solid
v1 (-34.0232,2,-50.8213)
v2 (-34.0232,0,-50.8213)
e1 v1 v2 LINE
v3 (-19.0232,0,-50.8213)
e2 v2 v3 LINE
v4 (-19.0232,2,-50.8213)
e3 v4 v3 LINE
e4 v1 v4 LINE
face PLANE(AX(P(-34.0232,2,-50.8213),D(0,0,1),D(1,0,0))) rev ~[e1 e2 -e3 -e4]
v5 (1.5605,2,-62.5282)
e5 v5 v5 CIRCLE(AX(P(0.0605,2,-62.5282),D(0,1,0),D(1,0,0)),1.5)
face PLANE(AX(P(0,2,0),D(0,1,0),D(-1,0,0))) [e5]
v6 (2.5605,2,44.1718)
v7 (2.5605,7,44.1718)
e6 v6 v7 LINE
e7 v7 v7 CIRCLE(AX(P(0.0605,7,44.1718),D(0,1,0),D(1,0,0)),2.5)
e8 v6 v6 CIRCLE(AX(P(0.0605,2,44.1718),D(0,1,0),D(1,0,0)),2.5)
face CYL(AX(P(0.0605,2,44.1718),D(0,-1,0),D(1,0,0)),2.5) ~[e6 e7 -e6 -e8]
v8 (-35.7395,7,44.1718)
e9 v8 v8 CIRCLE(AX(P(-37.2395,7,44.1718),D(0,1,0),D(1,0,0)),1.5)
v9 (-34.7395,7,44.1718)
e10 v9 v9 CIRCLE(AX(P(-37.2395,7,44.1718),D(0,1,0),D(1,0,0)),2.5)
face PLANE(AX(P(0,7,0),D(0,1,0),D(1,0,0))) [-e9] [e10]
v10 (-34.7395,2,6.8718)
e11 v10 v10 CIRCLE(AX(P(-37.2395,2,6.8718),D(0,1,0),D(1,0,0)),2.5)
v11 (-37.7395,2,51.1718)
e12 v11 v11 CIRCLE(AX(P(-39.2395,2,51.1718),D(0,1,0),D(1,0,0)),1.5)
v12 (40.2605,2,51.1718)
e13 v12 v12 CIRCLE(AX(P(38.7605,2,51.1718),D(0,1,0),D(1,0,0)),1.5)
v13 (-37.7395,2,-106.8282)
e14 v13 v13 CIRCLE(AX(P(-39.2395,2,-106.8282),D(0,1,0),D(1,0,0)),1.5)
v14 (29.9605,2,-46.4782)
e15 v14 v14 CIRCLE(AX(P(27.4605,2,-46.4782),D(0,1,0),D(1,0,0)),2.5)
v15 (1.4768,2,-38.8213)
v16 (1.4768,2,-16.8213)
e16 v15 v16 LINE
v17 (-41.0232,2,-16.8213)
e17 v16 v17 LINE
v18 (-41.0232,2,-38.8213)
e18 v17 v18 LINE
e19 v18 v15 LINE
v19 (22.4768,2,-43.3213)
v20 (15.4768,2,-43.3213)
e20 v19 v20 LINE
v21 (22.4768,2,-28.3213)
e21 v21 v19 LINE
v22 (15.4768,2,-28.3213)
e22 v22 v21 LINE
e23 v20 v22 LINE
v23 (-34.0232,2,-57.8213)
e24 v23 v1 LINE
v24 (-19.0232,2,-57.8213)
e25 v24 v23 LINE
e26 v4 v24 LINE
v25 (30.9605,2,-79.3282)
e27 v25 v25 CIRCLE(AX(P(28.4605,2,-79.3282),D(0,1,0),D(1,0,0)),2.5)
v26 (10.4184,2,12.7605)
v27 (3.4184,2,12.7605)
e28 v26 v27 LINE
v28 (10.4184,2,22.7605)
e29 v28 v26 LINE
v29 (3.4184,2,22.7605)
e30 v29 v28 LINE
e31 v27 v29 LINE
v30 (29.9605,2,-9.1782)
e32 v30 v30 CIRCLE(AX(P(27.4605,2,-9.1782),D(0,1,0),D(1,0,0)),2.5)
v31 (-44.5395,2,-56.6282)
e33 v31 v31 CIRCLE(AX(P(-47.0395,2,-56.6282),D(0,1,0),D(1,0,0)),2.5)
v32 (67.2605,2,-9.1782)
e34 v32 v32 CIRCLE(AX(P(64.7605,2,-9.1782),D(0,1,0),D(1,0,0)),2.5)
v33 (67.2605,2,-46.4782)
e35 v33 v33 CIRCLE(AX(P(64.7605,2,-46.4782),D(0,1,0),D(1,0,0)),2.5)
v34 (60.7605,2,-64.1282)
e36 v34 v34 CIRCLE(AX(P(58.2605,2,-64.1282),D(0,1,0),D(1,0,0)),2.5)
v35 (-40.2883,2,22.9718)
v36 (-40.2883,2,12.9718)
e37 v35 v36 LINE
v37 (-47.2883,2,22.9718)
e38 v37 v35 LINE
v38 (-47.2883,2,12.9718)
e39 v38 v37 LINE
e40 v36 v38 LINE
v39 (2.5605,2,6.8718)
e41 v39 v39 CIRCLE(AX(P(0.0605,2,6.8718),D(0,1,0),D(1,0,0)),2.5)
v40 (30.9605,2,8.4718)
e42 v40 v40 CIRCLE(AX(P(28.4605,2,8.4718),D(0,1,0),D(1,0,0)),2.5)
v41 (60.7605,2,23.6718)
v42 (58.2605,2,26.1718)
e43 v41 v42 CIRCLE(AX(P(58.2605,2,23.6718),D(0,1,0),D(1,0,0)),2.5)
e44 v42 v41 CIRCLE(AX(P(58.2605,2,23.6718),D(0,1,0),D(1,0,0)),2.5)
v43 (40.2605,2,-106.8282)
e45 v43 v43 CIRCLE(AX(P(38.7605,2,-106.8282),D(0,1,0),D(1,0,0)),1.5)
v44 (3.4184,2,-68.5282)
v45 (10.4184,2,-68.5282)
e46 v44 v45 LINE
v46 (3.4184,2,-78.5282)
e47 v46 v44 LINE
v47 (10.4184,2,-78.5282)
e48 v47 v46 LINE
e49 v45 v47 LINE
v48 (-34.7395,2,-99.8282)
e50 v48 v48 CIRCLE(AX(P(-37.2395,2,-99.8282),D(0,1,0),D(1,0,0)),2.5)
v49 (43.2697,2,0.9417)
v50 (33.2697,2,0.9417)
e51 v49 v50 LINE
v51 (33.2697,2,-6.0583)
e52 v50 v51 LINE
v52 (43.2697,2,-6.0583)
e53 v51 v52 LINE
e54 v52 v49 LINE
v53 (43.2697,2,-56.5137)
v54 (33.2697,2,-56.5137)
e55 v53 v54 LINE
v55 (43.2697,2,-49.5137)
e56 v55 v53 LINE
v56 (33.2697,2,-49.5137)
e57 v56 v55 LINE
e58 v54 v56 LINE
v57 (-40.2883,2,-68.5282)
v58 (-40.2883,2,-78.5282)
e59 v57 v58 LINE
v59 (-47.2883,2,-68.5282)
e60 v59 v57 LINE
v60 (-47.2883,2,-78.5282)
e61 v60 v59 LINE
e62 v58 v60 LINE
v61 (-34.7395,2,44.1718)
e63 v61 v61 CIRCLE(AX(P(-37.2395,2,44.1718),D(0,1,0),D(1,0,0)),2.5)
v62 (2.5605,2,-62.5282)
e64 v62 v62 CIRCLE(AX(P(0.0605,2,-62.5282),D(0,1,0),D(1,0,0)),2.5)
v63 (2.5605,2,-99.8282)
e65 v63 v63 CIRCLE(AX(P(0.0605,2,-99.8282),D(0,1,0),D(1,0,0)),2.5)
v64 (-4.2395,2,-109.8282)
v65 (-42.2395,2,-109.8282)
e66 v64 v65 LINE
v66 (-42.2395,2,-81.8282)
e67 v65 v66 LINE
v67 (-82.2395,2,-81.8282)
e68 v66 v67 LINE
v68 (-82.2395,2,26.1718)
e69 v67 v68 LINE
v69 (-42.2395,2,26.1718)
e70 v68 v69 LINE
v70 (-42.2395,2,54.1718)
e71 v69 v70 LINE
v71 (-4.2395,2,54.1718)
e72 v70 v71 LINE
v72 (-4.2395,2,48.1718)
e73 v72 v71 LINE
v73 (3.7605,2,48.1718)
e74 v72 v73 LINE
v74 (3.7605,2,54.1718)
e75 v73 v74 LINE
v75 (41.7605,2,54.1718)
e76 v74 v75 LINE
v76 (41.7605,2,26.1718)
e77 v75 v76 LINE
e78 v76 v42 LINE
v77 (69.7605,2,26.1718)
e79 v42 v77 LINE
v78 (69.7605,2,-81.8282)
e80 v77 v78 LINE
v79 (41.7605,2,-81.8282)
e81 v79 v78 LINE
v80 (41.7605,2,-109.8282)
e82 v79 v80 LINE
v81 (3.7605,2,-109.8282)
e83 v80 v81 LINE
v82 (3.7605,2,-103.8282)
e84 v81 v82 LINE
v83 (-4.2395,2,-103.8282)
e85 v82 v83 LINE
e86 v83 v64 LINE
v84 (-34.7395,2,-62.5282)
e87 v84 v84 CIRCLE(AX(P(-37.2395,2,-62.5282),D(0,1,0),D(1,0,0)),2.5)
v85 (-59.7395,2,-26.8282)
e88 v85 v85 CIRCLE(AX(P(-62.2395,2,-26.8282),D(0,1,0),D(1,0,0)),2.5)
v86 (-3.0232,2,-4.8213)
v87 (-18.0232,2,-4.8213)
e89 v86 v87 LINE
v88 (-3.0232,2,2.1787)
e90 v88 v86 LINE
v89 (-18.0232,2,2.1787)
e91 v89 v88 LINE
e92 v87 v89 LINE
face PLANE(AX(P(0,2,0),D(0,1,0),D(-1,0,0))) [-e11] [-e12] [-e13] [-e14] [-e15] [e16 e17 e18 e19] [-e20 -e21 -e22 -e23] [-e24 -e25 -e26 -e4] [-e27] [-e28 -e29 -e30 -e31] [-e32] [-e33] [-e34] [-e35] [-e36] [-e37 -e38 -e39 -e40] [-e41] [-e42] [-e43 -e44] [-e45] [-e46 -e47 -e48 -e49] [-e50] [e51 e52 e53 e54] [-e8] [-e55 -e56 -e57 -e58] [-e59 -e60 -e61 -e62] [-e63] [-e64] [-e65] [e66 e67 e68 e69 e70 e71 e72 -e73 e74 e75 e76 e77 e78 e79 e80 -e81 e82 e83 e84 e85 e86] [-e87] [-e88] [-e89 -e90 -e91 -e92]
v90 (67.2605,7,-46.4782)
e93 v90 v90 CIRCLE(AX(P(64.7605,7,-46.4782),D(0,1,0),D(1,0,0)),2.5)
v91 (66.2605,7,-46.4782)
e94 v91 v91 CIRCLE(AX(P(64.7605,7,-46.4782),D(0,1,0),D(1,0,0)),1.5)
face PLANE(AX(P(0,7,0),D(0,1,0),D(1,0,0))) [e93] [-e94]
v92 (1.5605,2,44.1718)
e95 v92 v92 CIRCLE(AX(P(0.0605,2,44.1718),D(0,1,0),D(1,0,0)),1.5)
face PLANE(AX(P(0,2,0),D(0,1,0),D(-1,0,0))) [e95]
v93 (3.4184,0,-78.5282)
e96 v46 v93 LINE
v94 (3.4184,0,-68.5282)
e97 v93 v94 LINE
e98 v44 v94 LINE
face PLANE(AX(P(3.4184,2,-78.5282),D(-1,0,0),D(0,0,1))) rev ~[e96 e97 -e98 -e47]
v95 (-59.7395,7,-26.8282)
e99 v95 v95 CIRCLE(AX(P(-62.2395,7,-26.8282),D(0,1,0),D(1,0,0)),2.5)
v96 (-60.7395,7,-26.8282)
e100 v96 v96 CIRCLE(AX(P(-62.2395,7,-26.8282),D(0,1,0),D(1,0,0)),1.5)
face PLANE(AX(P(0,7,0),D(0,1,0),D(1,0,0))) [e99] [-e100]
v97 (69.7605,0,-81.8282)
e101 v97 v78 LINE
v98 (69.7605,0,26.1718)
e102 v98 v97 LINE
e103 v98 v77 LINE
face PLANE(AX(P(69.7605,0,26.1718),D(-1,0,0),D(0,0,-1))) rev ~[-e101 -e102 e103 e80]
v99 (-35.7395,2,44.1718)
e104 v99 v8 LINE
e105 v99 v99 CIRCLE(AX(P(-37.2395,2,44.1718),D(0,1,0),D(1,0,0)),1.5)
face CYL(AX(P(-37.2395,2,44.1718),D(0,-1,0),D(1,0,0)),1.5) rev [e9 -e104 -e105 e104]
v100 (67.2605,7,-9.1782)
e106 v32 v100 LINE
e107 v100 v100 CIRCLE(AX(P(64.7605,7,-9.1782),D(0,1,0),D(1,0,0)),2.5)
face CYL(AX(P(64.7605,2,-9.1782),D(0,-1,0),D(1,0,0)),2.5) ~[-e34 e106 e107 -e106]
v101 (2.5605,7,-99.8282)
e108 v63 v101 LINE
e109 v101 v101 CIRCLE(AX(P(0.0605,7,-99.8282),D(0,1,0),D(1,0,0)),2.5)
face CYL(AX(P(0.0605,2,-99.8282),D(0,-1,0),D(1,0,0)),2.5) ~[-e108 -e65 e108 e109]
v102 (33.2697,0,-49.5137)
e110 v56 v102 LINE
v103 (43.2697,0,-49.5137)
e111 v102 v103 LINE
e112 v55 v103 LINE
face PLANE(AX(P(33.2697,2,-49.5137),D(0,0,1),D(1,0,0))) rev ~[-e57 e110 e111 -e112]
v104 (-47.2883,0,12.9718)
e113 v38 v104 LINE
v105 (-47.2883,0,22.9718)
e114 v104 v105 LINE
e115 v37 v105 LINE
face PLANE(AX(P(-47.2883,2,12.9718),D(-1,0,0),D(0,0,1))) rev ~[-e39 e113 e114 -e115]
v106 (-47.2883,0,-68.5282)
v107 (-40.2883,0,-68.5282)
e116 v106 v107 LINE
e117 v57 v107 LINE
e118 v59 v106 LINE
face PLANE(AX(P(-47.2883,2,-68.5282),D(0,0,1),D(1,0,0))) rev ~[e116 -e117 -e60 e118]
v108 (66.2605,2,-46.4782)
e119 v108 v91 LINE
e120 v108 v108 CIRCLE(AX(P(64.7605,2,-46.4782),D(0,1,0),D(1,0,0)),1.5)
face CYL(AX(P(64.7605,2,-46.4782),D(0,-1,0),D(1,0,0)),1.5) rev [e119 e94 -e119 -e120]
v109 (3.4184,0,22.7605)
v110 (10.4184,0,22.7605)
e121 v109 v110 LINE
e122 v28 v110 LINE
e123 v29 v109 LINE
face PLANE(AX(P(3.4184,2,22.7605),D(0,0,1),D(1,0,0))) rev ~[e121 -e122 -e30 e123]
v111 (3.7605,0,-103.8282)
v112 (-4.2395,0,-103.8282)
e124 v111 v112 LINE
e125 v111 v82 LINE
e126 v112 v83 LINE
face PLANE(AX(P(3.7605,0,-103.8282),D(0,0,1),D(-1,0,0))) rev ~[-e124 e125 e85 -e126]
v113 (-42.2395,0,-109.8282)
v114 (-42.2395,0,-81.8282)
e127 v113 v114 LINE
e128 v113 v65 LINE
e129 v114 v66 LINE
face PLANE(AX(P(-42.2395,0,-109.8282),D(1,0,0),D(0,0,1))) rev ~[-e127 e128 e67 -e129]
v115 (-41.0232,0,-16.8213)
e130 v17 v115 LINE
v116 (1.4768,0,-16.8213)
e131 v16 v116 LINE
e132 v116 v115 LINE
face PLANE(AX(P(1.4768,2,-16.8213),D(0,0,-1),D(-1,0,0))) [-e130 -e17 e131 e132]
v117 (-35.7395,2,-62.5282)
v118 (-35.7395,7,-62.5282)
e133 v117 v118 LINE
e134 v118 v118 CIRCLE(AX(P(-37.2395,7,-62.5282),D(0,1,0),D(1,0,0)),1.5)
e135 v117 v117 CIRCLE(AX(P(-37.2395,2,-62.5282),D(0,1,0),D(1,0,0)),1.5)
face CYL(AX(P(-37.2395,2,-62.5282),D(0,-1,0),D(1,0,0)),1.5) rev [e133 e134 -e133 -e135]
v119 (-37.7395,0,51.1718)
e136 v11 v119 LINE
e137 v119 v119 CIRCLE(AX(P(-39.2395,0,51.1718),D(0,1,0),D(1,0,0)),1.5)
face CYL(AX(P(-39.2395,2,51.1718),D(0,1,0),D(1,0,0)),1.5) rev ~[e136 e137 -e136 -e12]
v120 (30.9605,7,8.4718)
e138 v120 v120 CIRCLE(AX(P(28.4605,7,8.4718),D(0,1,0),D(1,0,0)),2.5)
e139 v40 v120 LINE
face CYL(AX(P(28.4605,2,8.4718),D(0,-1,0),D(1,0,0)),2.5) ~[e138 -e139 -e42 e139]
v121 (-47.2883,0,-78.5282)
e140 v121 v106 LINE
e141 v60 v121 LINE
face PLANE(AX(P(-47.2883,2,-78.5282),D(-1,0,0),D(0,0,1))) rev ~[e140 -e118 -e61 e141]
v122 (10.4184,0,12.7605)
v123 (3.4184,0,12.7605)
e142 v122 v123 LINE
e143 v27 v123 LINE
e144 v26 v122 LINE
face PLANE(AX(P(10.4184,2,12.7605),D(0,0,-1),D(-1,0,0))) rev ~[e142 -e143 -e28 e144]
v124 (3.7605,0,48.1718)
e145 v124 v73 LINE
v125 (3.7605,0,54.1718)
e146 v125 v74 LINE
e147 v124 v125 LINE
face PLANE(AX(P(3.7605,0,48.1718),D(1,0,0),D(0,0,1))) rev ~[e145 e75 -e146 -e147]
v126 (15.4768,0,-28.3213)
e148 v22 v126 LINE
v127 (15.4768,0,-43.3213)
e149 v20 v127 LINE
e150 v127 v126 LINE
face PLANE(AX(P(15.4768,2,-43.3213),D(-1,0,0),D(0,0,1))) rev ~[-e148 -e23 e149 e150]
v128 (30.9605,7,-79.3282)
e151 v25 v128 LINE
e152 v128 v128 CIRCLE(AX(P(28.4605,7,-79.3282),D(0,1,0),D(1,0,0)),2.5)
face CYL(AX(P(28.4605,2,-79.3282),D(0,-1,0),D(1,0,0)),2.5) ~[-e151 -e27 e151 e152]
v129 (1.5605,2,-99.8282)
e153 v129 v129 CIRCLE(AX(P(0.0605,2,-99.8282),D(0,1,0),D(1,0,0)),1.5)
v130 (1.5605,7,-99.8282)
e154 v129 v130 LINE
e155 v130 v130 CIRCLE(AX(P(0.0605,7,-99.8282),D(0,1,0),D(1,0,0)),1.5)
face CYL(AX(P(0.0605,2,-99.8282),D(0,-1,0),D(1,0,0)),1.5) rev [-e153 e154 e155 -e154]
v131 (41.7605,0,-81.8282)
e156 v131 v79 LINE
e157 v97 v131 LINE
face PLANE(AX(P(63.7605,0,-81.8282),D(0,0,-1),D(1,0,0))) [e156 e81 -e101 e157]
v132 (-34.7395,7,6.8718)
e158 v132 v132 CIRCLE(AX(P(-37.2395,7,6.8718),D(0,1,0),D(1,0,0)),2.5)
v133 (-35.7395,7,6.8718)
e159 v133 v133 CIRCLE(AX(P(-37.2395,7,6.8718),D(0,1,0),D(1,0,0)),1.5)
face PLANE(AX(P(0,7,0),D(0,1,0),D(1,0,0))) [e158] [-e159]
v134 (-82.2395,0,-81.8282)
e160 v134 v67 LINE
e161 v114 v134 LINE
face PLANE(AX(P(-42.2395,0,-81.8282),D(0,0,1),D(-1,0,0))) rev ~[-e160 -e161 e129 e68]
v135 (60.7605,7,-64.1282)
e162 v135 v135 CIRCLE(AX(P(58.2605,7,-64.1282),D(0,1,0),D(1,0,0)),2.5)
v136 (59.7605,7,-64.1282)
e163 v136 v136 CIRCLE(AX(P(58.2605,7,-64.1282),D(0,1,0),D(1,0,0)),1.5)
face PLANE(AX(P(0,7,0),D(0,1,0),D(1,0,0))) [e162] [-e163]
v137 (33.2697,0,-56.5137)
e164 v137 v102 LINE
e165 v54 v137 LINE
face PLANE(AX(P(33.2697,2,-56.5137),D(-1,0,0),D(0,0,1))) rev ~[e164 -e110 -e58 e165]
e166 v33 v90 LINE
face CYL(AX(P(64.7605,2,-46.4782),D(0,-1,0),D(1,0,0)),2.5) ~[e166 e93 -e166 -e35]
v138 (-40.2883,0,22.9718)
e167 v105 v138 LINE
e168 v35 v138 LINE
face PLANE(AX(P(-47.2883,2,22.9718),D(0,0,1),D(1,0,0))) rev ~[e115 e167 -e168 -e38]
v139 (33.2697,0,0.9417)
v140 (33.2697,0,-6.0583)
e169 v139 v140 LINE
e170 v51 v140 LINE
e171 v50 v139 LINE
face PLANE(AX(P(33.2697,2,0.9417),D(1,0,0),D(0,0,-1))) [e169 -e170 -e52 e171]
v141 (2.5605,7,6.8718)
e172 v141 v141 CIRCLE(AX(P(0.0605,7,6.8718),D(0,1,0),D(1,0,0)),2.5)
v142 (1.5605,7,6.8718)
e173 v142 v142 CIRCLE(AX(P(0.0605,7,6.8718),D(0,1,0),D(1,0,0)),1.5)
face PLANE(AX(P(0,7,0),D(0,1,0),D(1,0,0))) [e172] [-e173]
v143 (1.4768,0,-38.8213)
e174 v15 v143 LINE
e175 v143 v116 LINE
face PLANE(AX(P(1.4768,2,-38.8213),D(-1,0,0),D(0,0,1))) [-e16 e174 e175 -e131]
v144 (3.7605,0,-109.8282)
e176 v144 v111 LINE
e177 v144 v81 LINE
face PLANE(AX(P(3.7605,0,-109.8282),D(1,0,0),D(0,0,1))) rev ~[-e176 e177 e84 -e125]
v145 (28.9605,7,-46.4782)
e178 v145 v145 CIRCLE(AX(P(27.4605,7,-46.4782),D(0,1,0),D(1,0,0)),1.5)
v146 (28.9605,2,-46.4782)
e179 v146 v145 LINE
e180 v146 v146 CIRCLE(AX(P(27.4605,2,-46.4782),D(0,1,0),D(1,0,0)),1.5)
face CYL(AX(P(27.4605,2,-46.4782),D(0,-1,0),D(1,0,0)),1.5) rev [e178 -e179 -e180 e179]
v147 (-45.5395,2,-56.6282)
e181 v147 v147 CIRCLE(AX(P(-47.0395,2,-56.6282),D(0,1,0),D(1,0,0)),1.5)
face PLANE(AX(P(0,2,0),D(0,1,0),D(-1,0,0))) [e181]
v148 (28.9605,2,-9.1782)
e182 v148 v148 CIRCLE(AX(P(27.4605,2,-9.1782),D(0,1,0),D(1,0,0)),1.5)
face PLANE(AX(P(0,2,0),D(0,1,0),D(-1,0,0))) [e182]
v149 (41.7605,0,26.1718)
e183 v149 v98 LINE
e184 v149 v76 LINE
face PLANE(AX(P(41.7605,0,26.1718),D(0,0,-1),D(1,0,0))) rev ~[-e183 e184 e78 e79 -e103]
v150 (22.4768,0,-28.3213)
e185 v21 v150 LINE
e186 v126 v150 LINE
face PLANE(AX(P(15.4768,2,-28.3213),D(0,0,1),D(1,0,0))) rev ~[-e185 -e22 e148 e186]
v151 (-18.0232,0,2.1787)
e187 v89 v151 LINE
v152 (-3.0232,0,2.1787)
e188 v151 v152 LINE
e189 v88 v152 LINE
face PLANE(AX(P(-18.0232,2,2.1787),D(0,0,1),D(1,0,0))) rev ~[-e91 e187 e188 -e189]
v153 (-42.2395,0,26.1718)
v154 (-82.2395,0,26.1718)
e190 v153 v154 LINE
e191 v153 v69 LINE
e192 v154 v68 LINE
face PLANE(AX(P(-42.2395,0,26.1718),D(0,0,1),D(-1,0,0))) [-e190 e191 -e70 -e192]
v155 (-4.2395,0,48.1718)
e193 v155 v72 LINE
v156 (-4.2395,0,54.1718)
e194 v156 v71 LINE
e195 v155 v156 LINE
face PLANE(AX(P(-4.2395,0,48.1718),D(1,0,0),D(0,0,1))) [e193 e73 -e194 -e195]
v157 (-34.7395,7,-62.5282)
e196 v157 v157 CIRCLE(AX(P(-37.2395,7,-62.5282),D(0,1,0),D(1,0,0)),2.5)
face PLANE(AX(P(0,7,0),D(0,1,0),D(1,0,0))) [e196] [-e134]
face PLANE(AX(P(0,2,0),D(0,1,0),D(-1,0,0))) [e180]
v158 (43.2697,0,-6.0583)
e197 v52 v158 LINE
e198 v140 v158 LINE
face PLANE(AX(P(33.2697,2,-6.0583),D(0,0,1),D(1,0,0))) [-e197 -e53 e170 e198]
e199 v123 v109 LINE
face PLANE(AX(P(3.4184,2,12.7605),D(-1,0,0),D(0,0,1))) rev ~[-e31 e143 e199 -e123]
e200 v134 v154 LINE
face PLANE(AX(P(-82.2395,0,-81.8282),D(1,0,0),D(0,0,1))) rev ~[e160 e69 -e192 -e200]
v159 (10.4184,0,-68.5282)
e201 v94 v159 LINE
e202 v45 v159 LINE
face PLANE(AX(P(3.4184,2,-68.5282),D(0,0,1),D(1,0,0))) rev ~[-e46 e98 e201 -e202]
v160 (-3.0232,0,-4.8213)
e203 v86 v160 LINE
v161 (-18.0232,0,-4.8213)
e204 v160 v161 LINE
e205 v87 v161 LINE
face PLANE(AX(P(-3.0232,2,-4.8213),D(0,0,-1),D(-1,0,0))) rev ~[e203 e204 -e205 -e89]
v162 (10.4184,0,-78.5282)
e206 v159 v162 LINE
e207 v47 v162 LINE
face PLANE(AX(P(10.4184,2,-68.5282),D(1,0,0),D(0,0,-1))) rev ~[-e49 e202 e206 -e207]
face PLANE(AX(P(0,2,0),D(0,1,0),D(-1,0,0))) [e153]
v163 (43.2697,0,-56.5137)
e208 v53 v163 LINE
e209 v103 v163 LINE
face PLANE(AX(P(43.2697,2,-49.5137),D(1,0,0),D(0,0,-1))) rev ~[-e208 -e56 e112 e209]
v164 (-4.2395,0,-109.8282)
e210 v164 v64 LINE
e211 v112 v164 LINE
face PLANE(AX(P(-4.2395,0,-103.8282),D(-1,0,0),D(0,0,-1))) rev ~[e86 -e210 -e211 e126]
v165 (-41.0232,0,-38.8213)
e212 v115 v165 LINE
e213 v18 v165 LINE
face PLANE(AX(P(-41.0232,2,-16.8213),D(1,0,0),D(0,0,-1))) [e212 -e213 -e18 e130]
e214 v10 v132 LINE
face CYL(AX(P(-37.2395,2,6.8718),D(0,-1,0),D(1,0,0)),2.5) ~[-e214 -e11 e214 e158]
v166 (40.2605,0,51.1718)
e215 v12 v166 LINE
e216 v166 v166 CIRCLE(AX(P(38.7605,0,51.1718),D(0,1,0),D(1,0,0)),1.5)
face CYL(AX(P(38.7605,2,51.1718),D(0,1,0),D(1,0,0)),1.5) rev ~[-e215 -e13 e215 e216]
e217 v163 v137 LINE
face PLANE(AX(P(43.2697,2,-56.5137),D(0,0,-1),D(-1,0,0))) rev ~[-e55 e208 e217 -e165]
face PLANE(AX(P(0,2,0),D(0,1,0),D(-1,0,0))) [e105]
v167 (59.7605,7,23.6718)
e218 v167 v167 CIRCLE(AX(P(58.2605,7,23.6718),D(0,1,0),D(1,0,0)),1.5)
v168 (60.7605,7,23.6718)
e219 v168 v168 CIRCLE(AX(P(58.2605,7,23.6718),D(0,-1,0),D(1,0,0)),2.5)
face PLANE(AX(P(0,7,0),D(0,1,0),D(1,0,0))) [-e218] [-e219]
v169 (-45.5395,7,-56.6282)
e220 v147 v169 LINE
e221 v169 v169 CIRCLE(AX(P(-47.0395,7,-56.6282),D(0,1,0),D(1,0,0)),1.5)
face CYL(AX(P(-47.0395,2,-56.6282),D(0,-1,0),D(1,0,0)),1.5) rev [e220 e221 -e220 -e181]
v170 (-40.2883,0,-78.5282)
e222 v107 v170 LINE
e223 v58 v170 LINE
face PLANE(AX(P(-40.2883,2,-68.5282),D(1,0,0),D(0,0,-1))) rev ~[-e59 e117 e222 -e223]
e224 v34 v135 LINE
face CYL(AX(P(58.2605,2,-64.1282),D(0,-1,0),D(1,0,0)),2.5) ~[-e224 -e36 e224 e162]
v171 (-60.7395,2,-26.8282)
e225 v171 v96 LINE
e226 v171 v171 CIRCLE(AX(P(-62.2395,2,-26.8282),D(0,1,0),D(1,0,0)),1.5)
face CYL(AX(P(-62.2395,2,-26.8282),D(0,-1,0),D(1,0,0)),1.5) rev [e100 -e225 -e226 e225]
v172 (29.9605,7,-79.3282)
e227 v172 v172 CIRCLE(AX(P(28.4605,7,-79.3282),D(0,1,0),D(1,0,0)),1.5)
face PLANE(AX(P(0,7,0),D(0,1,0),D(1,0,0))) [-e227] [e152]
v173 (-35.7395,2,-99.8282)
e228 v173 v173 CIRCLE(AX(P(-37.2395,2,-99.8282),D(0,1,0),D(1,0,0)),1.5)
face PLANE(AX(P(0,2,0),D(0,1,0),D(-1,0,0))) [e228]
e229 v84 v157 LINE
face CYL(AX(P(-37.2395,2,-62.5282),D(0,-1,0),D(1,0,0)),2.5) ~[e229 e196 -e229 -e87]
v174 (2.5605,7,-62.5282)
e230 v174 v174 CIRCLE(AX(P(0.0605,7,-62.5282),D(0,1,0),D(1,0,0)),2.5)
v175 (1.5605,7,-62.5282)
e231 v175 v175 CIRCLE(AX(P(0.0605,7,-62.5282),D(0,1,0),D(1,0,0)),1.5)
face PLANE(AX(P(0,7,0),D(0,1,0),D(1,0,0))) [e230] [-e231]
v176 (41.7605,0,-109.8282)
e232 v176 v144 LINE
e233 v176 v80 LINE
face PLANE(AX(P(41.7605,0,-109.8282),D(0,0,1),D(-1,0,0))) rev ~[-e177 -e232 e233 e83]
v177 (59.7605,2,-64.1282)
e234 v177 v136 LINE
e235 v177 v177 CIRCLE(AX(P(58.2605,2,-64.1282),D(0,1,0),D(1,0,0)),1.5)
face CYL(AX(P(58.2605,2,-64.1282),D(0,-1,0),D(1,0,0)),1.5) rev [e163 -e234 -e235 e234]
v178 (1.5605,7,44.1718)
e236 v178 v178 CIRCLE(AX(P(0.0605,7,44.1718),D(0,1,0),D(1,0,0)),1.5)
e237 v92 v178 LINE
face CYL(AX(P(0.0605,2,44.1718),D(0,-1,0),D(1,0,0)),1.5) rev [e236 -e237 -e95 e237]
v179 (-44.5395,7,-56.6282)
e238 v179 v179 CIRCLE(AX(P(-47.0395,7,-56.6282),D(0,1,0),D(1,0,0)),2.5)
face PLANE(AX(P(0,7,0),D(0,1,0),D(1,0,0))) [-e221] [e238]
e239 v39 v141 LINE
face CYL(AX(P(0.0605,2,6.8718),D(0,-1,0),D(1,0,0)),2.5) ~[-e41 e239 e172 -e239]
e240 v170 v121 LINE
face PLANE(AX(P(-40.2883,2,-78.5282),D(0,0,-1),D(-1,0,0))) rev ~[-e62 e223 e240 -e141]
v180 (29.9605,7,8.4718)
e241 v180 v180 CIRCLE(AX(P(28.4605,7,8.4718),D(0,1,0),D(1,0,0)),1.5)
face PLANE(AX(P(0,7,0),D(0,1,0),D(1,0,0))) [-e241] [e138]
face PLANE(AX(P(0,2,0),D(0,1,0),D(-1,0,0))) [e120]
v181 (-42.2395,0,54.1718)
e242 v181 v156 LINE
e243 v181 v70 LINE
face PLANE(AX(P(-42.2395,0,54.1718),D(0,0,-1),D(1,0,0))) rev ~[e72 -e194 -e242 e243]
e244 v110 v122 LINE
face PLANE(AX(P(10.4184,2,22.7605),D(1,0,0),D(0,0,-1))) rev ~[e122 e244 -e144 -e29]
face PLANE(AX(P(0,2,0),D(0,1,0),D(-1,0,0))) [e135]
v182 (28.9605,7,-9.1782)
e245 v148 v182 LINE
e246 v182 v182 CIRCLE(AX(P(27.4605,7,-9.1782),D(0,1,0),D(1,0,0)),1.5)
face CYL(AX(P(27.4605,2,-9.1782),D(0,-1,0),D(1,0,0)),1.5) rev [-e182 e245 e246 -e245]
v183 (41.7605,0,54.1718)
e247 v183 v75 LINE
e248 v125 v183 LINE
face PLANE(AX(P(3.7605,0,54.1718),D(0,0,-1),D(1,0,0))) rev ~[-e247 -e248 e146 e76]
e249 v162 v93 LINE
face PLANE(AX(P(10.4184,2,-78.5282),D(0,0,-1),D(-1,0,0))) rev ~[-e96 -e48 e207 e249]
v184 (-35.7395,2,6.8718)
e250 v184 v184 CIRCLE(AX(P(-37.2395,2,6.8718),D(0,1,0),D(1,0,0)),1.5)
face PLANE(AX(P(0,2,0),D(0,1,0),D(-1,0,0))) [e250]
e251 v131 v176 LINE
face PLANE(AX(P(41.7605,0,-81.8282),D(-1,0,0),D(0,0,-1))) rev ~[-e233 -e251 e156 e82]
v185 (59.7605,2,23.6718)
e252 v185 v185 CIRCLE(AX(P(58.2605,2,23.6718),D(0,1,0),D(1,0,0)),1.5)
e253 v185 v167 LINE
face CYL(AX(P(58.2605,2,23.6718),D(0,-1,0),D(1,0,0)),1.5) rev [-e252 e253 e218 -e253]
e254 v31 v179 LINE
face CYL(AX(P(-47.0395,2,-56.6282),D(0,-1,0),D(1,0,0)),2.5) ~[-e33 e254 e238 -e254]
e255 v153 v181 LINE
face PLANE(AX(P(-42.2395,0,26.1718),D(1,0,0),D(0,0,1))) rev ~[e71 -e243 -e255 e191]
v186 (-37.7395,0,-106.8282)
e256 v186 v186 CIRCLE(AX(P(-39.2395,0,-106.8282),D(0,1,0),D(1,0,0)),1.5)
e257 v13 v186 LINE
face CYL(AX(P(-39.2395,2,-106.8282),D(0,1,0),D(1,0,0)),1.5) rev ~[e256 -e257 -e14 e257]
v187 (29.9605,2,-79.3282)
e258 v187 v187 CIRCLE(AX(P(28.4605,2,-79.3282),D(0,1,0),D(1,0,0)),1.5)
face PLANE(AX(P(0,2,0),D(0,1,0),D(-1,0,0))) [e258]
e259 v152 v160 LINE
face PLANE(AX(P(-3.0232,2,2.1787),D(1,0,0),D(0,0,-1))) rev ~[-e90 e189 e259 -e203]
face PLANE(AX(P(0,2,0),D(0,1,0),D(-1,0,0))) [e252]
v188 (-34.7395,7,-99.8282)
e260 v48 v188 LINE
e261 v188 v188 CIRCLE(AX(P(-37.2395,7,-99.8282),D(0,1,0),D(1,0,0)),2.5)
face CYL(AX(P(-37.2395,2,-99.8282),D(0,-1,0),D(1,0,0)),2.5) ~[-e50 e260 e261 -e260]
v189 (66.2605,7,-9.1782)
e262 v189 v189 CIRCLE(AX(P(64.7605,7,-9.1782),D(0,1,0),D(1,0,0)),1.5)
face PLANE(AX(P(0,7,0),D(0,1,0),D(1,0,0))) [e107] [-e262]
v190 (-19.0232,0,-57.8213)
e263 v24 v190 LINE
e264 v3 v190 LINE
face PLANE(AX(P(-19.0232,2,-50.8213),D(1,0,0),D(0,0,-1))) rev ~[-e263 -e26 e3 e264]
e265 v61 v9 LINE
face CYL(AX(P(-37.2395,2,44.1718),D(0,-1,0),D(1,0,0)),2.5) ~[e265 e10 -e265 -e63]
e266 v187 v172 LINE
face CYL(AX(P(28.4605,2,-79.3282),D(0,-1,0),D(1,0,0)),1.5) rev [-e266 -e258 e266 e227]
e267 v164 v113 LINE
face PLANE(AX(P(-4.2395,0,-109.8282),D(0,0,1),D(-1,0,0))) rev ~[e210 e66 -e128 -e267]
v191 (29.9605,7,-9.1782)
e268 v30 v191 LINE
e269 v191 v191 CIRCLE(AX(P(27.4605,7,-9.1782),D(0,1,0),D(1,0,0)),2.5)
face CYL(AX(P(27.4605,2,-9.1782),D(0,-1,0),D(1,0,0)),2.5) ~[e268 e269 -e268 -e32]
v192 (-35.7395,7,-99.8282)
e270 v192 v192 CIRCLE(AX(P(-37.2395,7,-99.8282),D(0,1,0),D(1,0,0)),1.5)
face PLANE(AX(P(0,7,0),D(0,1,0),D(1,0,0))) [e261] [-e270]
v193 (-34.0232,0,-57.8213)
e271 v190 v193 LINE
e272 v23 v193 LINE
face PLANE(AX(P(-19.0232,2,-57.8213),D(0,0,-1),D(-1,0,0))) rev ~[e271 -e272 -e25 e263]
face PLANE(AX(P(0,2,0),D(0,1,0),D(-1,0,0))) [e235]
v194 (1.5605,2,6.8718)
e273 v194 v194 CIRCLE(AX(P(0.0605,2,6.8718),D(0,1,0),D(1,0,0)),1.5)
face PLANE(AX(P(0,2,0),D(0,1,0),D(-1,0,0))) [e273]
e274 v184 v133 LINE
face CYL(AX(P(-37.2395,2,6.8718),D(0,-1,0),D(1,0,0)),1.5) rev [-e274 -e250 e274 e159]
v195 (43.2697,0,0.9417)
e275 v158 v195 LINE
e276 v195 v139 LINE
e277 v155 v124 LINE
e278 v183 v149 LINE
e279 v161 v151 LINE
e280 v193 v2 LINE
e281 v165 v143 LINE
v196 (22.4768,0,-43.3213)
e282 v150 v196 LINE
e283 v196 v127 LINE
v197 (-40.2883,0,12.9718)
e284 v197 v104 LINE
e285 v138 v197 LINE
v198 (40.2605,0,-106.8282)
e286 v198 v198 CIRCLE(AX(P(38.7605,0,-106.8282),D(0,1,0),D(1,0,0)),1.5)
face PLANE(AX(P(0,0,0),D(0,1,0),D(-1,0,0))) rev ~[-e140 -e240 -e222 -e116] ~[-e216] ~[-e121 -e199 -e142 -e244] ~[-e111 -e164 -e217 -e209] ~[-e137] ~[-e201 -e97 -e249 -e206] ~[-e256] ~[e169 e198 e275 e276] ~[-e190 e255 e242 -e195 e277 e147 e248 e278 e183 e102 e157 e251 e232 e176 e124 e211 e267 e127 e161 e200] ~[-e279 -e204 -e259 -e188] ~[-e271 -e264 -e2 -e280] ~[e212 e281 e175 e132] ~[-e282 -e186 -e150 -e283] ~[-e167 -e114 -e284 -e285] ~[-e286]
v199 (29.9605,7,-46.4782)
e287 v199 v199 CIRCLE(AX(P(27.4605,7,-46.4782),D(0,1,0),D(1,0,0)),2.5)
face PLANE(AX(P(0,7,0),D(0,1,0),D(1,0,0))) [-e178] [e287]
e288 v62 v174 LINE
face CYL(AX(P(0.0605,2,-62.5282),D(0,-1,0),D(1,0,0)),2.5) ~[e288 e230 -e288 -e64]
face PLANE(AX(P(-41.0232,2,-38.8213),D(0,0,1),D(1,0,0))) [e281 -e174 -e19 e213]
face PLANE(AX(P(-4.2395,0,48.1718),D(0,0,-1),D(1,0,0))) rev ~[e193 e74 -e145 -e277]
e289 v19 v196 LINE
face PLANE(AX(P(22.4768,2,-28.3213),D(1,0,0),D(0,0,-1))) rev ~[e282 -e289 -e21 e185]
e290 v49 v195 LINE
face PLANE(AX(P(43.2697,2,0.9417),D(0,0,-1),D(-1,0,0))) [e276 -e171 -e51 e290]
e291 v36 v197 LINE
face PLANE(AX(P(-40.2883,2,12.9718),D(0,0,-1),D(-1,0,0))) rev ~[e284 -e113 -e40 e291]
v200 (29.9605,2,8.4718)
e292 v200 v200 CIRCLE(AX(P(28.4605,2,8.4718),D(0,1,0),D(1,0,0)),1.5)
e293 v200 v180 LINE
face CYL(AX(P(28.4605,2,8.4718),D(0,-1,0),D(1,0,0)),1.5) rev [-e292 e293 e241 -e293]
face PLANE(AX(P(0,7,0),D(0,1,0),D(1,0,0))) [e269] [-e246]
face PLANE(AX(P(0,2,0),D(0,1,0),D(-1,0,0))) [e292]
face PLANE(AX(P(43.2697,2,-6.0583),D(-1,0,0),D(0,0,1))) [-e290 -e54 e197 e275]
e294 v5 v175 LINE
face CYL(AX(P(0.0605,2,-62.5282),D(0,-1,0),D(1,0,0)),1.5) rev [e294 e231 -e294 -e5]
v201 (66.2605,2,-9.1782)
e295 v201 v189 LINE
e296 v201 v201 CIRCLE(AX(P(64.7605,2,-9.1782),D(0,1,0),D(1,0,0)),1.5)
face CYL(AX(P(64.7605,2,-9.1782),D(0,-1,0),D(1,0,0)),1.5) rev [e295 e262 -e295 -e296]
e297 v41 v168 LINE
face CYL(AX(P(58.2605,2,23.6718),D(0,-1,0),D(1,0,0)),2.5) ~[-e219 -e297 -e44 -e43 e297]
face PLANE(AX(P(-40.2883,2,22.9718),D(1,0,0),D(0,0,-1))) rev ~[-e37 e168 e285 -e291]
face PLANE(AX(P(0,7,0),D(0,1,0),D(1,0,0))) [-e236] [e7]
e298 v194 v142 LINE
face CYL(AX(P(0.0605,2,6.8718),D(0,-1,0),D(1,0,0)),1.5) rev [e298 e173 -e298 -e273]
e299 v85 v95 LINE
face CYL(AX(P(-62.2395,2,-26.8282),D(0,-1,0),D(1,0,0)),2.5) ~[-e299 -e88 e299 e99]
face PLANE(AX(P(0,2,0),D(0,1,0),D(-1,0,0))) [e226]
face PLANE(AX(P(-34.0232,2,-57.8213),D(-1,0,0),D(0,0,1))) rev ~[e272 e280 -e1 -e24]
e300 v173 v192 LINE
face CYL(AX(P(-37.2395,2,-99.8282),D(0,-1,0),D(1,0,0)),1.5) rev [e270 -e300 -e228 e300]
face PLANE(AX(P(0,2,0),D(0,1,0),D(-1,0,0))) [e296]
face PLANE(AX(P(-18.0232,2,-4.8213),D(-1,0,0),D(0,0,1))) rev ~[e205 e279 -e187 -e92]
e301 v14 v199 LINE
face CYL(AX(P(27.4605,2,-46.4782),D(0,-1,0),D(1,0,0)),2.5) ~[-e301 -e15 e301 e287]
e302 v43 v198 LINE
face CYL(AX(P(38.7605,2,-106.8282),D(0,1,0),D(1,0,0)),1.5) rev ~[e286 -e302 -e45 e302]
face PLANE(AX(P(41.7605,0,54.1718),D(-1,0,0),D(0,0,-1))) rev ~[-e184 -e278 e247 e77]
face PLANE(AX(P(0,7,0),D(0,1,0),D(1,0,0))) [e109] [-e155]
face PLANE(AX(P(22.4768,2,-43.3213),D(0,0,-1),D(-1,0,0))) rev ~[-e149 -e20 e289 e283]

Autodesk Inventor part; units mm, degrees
ref_plane "YZ Plane" through (0, 0, 0) normal (1, 0, 0) x (0, 1, 0)
ref_plane "XZ Plane" through (0, 0, 0) normal (0, 1, 0) x (-1, 0, 0)
ref_plane "XY Plane" through (0, 0, 0) normal (0, 0, 1) x (1, 0, 0)
sketch "Sketch3" plane through (0, 0, 0) normal (0, 1, 0) x (-1, 0, 0)
  line L0 (-63.7605, -81.8282) -> (-41.7605, -81.8282)
  line L1 (-41.7605, -81.8282) -> (-69.7605, -81.8282)
  line L2 (-41.7605, -81.8282) -> (-41.7605, -109.8282)
  line L3 (-41.7605, -81.8282) -> (-41.7605, -109.8282)
  line L4 (-41.7605, -109.8282) -> (-3.7605, -109.8282)
  line L5 (-3.7605, -109.8282) -> (-3.7605, -103.8282)
  line L6 (-3.7605, -109.8282) -> (-3.7605, -103.8282)
  line L7 (-3.7605, -103.8282) -> (4.2395, -103.8282)
  line L8 (4.2395, -103.8282) -> (4.2395, -109.8282)
  line L9 (4.2395, -109.8282) -> (42.2395, -109.8282)
  line L10 (42.2395, -109.8282) -> (42.2395, -81.8282)
  line L11 (42.2395, -109.8282) -> (42.2395, -81.8282)
  line L12 (42.2395, -81.8282) -> (82.2395, -81.8282)
  line L13 (82.2395, -81.8282) -> (82.2395, 26.1718)
  line L14 (42.2395, 26.1718) -> (66.2395, 26.1718)
  line L15 (82.2395, 26.1718) -> (42.2395, 26.1718)
  line L16 (42.2395, 26.1718) -> (42.2395, 54.1718)
  line L17 (42.2395, 54.1718) -> (4.2395, 54.1718)
  line L18 (4.2395, 48.1718) -> (-3.7605, 48.1718)
  line L19 (-3.7605, 48.1718) -> (-3.7605, 54.1718)
  line L20 (4.2395, 48.1718) -> (4.2395, 54.1718)
  line L21 (4.2395, 54.1718) -> (4.2395, 48.1718)
  line L22 (-3.7605, 54.1718) -> (-41.7605, 54.1718)
  line L23 (-41.7605, 54.1718) -> (-41.7605, 26.1718)
  line L24 (-41.7605, 54.1718) -> (-41.7605, 26.1718)
  line L25 (-41.7605, 26.1718) -> (-69.7605, 26.1718)
  line L26 (-69.7605, 26.1718) -> (-69.7605, -81.8282)
  point P0 (0, 0)
  dimension "d1" = 108
  dimension "d2" = 108
  dimension "d3" = 164
  dimension "d4" = 164
  dimension "d6" = 28
  dimension "d7" = 28
  dimension "d11" = 28
  dimension "d12" = 38
  dimension "d13" = 38
  dimension "d14" = 38
  dimension "d15" = 38
  dimension "d16" = 40
  dimension "d18" = 8
  dimension "d19" = 8
  dimension "d21" = 28
extrude "Extrusion1" add sketch "Sketch3" along normal blind 2
sketch "Sketch9" plane through (0, 2, 0) normal (0, 1, 0) x (1, 0, 0)
  circle A0 centre (38.7605, 106.8282) radius 1.5
  line L0 (41.7605, 109.8282) -> (3.7605, 109.8282) projected
  line L1 (41.7605, 81.8282) -> (41.7605, 109.8282) projected
  line L2 (69.7605, -26.1718) -> (69.7605, 81.8282) projected
  line L3 (69.7605, 27.8282) -> (-19.2089, 27.8282)
  line L4 (-0.2395, 109.8282) -> (-0.2395, 42.6367)
  circle A1 centre (-39.2395, 106.8282) radius 1.5
  circle A2 centre (38.7605, -51.1718) radius 1.5
  circle A3 centre (-39.2395, -51.1718) radius 1.5
  point P0 (0, 0)
  dimension "d55" = 3
  dimension "d56" = 3
  dimension "d57" = 3
extrude "Extrusion4" cut sketch "Sketch9" against normal blind 10
sketch "Sketch10" plane through (0, 2, 0) normal (0, 1, 0) x (1, 0, 0)
  circle A0 centre (-37.2395, -44.1718) radius 1.5
  circle A1 centre (-37.2395, -44.1718) radius 1.5
  circle A2 centre (-37.2395, -6.8718) radius 1.5
  circle A3 centre (-37.2395, -6.8718) radius 1.5
  circle A4 centre (0.0605, -6.8718) radius 1.5
  circle A5 centre (0.0605, -6.8718) radius 1.5
  circle A6 centre (0.0605, -44.1718) radius 1.5
  circle A7 centre (0.0605, -44.1718) radius 1.5
  line L0 (-42.2395, -54.1718) -> (-4.2395, -54.1718) projected
  line L1 (-42.2395, -26.1718) -> (-42.2395, -54.1718) projected
  line L2 (3.7605, -54.1718) -> (41.7605, -54.1718) projected
  circle A8 centre (0.0605, -44.1718) radius 2.5
  circle A9 centre (0.0605, -6.8718) radius 2.5
  circle A10 centre (-37.2395, -6.8718) radius 2.5
  circle A11 centre (-37.2395, -44.1718) radius 2.5
  point P0 (0, 0)
  point P1 (22.3, 43.3)
  dimension "d60" = 37.3
  dimension "d61" = 37.3
  dimension "d62" = 37.3
  dimension "d63" = 37.3
  dimension "d64" = 10
  dimension "d65" = 5
  dimension "d66" = 5
  dimension "d67" = 10
  dimension "d207" = 5
  dimension "d208" = 5
  dimension "d209" = 5
  dimension "d210" = 5
extrude "Extrusion5" add sketch "Sketch10" along normal blind 5
sketch "Sketch11" plane through (0, 2, 0) normal (0, 1, 0) x (1, 0, 0)
  circle A0 centre (-37.2395, 62.5282) radius 1.5
  circle A1 centre (-37.2395, 62.5282) radius 1.5
  circle A2 centre (-37.2395, 99.8282) radius 1.5
  circle A3 centre (-37.2395, 99.8282) radius 1.5
  circle A4 centre (0.0605, 99.8282) radius 1.5
  circle A5 centre (0.0605, 99.8282) radius 1.5
  circle A6 centre (0.0605, 62.5282) radius 1.5
  circle A7 centre (0.0605, 62.5282) radius 1.5
  line L0 (-4.2395, 109.8282) -> (-42.2395, 109.8282) projected
  line L1 (-42.2395, 109.8282) -> (-42.2395, 81.8282) projected
  circle A8 centre (-37.2395, 62.5282) radius 2.5
  circle A9 centre (-37.2395, 99.8282) radius 2.5
  circle A10 centre (0.0605, 62.5282) radius 2.5
  circle A11 centre (0.0605, 99.8282) radius 2.5
  point P0 (0, 0)
  point P1 (22.3, 43.3)
  dimension "d70" = 37.3
  dimension "d71" = 37.3
  dimension "d72" = 37.3
  dimension "d73" = 37.3
  dimension "d74" = 10
  dimension "d75" = 10
  dimension "d105" = 5
  dimension "d106" = 5
  dimension "d203" = 5
  dimension "d204" = 5
  dimension "d205" = 5
  dimension "d206" = 5
extrude "Extrusion6" add sketch "Sketch11" along normal blind 5
sketch "Sketch12" plane through (0, 2, 0) normal (0, 1, 0) x (1, 0, 0)
  circle A0 centre (27.4605, 9.1782) radius 1.5
  circle A1 centre (27.4605, 9.1782) radius 1.5
  circle A2 centre (27.4605, 46.4782) radius 1.5
  circle A3 centre (27.4605, 46.4782) radius 1.5
  circle A4 centre (64.7605, 46.4782) radius 1.5
  circle A5 centre (64.7605, 46.4782) radius 1.5
  circle A6 centre (64.7605, 9.1782) radius 1.5
  circle A7 centre (64.7605, 9.1782) radius 1.5
  line L0 (69.7605, -26.1718) -> (69.7605, 81.8282) projected
  line L1 (41.7605, -26.1718) -> (69.7605, -26.1718) projected
  circle A8 centre (27.4605, 46.4782) radius 2.5
  circle A9 centre (27.4605, 9.1782) radius 2.5
  circle A10 centre (64.7605, 9.1782) radius 2.5
  circle A11 centre (64.7605, 46.4782) radius 2.5
  point P0 (0, 0)
  point P1 (22.3, 43.3)
  dimension "d80" = 37.3
  dimension "d81" = 37.3
  dimension "d82" = 37.3
  dimension "d83" = 37.3
  dimension "d84" = 5
  dimension "d85" = 5
  dimension "d86" = 35.35
  dimension "d87" = 35.35
  dimension "d199" = 5
  dimension "d200" = 5
  dimension "d201" = 5
  dimension "d202" = 5
extrude "Extrusion7" add sketch "Sketch12" along normal blind 5
sketch "Sketch14" plane through (0, 2, 0) normal (0, 1, 0) x (1, 0, 0)
  line L0 (-41.0232, 16.8213) -> (-41.0232, 38.8213)
  line L1 (-41.0232, 38.8213) -> (1.4768, 38.8213)
  line L2 (1.4768, 38.8213) -> (1.4768, 16.8213)
  line L3 (1.4768, 16.8213) -> (-41.0232, 16.8213)
  point P0 (0, 0)
  dimension "d107" = 22
  dimension "d108" = 42.5
extrude "Extrusion9" cut sketch "Sketch14" against normal blind 10
sketch "Sketch17" plane through (0, 2, 0) normal (0, 1, 0) x (1, 0, 0)
  line L0 (-18.0232, -2.1787) -> (-3.0232, -2.1787)
  line L1 (-3.0232, -2.1787) -> (-3.0232, 4.8213)
  line L2 (-3.0232, 4.8213) -> (-18.0232, 4.8213)
  line L3 (-18.0232, 4.8213) -> (-18.0232, -2.1787)
  line L4 (1.4768, 38.8213) -> (1.4768, 16.8213) projected
  line L5 (15.4768, 28.3213) -> (22.4768, 28.3213)
  line L6 (22.4768, 28.3213) -> (22.4768, 43.3213)
  line L7 (22.4768, 43.3213) -> (15.4768, 43.3213)
  line L8 (15.4768, 43.3213) -> (15.4768, 28.3213)
  line L9 (-41.0232, 16.8213) -> (1.4768, 16.8213) projected
  line L10 (-34.0232, 50.8213) -> (-19.0232, 50.8213)
  line L11 (-19.0232, 50.8213) -> (-19.0232, 57.8213)
  line L12 (-19.0232, 57.8213) -> (-34.0232, 57.8213)
  line L13 (-34.0232, 57.8213) -> (-34.0232, 50.8213)
  line L14 (1.4768, 38.8213) -> (-41.0232, 38.8213) projected
  line L15 (-41.0232, 16.8213) -> (-41.0232, 38.8213) projected
  point P0 (0, 0)
  dimension "d148" = 15
  dimension "d149" = 7
  dimension "d150" = 4.5
  dimension "d151" = 7
  dimension "d152" = 15
  dimension "d153" = 12
  dimension "d154" = 14
  dimension "d155" = 15
  dimension "d156" = 7
  dimension "d157" = 12
  dimension "d158" = 7
  dimension "d159" = 10.5
extrude "Extrusion12" cut sketch "Sketch17" against normal blind 10 contours L3 L2 L1 L0 | L8 L7 L6 L5 | L13 L12 L11 L10
sketch "Sketch18" plane through (0, 2, 0) normal (0, 1, 0) x (1, 0, 0)
  line L0 (3.4184, -22.7605) -> (10.4184, -22.7605)
  line L1 (10.4184, -22.7605) -> (10.4184, -12.7605)
  line L2 (10.4184, -12.7605) -> (3.4184, -12.7605)
  line L3 (3.4184, -12.7605) -> (3.4184, -22.7605)
  line L4 (3.4184, 68.5282) -> (10.4184, 68.5282)
  line L5 (10.4184, 68.5282) -> (10.4184, 78.5282)
  line L6 (10.4184, 78.5282) -> (3.4184, 78.5282)
  line L7 (3.4184, 78.5282) -> (3.4184, 68.5282)
  line L8 (-47.2883, 68.5282) -> (-40.2883, 68.5282)
  line L9 (-40.2883, 68.5282) -> (-40.2883, 78.5282)
  line L10 (-40.2883, 78.5282) -> (-47.2883, 78.5282)
  line L11 (-47.2883, 78.5282) -> (-47.2883, 68.5282)
  line L12 (-47.2883, -22.9718) -> (-40.2883, -22.9718)
  line L13 (-40.2883, -22.9718) -> (-40.2883, -12.9718)
  line L14 (-40.2883, -12.9718) -> (-47.2883, -12.9718)
  line L15 (-47.2883, -12.9718) -> (-47.2883, -22.9718)
  line L16 (-82.2395, -26.1718) -> (-42.2395, -26.1718) projected
  line L17 (-42.2395, 81.8282) -> (-82.2395, 81.8282) projected
  line L18 (33.2697, 6.0583) -> (43.2697, 6.0583)
  line L19 (43.2697, 6.0583) -> (43.2697, -0.9417)
  line L20 (43.2697, -0.9417) -> (33.2697, -0.9417)
  line L21 (33.2697, -0.9417) -> (33.2697, 6.0583)
  line L22 (33.2697, 49.5137) -> (43.2697, 49.5137)
  line L23 (43.2697, 49.5137) -> (43.2697, 56.5137)
  line L24 (43.2697, 56.5137) -> (33.2697, 56.5137)
  line L25 (33.2697, 56.5137) -> (33.2697, 49.5137)
  point P0 (0, 0)
  dimension "d162" = 7
  dimension "d163" = 10
  dimension "d164" = 7
  dimension "d165" = 10
  dimension "d166" = 7
  dimension "d167" = 10
  dimension "d168" = 10
  dimension "d169" = 3.2
  dimension "d170" = 3.3
  dimension "d171" = 10
  dimension "d172" = 7
  dimension "d173" = 10
  dimension "d174" = 7
extrude "Extrusion13" cut sketch "Sketch18" against normal blind 10
sketch "Sketch19" plane through (0, 2, 0) normal (0, 1, 0) x (1, 0, 0)
  circle A0 centre (58.2605, -23.6718) radius 1.5
  circle A1 centre (58.2605, -23.6718) radius 1.5
  circle A2 centre (28.4605, -8.4718) radius 1.5
  circle A3 centre (28.4605, -8.4718) radius 1.5
  line L0 (69.7605, -26.1718) -> (69.7605, 81.8282) projected
  line L1 (41.7605, -26.1718) -> (69.7605, -26.1718) projected
  circle A4 centre (58.2605, 64.1282) radius 1.5
  circle A5 centre (58.2605, 64.1282) radius 1.5
  circle A6 centre (28.4605, 79.3282) radius 1.5
  circle A7 centre (28.4605, 79.3282) radius 1.5
  line L2 (69.7605, 81.8282) -> (41.7605, 81.8282) projected
  circle A8 centre (-62.2395, 26.8282) radius 1.5
  circle A9 centre (-47.0395, 56.6282) radius 1.5
  line L3 (-82.2395, 81.8282) -> (-82.2395, -26.1718) projected
  line L4 (-82.2395, -26.1718) -> (-42.2395, -26.1718) projected
  circle A10 centre (-62.2395, 26.8282) radius 2.5
  circle A11 centre (-47.0395, 56.6282) radius 2.5
  circle A12 centre (28.4605, 79.3282) radius 2.5
  circle A13 centre (58.2605, 64.1282) radius 2.5
  circle A14 centre (28.4605, -8.4718) radius 2.5
  circle A15 centre (58.2605, -23.6718) radius 2.5
  point P0 (0, 0)
  point P1 (0, 0)
  point P2 (0, 0)
  dimension "d177" = 15.2
  dimension "d178" = 29.8
  dimension "d179" = 11.5
  dimension "d180" = 2.5
  dimension "d181" = 15.2
  dimension "d182" = 29.8
  dimension "d183" = 2.5
  dimension "d184" = 11.5
  dimension "d185" = 3
  dimension "d186" = 3
  dimension "d187" = 29.8
  dimension "d188" = 15.2
  dimension "d189" = 20
  dimension "d190" = 53
  dimension "d191" = 5
  dimension "d192" = 5
  dimension "d193" = 5
  dimension "d194" = 5
  dimension "d195" = 5
  dimension "d196" = 5
extrude "Extrusion14" add sketch "Sketch19" along normal blind 5
equation "\"d7\" = d6"
equation "\"d12\" = d13"
equation "\"d14\" = d13"
equation "\"d15\" = d13"
equation "\"d66\" = d65"
equation "\"d67\" = d64"
equation "\"d75\" = d74"
equation "\"d106\" = d105"
equation "\"d85\" = d84"
equation "\"d87\" = d86"
